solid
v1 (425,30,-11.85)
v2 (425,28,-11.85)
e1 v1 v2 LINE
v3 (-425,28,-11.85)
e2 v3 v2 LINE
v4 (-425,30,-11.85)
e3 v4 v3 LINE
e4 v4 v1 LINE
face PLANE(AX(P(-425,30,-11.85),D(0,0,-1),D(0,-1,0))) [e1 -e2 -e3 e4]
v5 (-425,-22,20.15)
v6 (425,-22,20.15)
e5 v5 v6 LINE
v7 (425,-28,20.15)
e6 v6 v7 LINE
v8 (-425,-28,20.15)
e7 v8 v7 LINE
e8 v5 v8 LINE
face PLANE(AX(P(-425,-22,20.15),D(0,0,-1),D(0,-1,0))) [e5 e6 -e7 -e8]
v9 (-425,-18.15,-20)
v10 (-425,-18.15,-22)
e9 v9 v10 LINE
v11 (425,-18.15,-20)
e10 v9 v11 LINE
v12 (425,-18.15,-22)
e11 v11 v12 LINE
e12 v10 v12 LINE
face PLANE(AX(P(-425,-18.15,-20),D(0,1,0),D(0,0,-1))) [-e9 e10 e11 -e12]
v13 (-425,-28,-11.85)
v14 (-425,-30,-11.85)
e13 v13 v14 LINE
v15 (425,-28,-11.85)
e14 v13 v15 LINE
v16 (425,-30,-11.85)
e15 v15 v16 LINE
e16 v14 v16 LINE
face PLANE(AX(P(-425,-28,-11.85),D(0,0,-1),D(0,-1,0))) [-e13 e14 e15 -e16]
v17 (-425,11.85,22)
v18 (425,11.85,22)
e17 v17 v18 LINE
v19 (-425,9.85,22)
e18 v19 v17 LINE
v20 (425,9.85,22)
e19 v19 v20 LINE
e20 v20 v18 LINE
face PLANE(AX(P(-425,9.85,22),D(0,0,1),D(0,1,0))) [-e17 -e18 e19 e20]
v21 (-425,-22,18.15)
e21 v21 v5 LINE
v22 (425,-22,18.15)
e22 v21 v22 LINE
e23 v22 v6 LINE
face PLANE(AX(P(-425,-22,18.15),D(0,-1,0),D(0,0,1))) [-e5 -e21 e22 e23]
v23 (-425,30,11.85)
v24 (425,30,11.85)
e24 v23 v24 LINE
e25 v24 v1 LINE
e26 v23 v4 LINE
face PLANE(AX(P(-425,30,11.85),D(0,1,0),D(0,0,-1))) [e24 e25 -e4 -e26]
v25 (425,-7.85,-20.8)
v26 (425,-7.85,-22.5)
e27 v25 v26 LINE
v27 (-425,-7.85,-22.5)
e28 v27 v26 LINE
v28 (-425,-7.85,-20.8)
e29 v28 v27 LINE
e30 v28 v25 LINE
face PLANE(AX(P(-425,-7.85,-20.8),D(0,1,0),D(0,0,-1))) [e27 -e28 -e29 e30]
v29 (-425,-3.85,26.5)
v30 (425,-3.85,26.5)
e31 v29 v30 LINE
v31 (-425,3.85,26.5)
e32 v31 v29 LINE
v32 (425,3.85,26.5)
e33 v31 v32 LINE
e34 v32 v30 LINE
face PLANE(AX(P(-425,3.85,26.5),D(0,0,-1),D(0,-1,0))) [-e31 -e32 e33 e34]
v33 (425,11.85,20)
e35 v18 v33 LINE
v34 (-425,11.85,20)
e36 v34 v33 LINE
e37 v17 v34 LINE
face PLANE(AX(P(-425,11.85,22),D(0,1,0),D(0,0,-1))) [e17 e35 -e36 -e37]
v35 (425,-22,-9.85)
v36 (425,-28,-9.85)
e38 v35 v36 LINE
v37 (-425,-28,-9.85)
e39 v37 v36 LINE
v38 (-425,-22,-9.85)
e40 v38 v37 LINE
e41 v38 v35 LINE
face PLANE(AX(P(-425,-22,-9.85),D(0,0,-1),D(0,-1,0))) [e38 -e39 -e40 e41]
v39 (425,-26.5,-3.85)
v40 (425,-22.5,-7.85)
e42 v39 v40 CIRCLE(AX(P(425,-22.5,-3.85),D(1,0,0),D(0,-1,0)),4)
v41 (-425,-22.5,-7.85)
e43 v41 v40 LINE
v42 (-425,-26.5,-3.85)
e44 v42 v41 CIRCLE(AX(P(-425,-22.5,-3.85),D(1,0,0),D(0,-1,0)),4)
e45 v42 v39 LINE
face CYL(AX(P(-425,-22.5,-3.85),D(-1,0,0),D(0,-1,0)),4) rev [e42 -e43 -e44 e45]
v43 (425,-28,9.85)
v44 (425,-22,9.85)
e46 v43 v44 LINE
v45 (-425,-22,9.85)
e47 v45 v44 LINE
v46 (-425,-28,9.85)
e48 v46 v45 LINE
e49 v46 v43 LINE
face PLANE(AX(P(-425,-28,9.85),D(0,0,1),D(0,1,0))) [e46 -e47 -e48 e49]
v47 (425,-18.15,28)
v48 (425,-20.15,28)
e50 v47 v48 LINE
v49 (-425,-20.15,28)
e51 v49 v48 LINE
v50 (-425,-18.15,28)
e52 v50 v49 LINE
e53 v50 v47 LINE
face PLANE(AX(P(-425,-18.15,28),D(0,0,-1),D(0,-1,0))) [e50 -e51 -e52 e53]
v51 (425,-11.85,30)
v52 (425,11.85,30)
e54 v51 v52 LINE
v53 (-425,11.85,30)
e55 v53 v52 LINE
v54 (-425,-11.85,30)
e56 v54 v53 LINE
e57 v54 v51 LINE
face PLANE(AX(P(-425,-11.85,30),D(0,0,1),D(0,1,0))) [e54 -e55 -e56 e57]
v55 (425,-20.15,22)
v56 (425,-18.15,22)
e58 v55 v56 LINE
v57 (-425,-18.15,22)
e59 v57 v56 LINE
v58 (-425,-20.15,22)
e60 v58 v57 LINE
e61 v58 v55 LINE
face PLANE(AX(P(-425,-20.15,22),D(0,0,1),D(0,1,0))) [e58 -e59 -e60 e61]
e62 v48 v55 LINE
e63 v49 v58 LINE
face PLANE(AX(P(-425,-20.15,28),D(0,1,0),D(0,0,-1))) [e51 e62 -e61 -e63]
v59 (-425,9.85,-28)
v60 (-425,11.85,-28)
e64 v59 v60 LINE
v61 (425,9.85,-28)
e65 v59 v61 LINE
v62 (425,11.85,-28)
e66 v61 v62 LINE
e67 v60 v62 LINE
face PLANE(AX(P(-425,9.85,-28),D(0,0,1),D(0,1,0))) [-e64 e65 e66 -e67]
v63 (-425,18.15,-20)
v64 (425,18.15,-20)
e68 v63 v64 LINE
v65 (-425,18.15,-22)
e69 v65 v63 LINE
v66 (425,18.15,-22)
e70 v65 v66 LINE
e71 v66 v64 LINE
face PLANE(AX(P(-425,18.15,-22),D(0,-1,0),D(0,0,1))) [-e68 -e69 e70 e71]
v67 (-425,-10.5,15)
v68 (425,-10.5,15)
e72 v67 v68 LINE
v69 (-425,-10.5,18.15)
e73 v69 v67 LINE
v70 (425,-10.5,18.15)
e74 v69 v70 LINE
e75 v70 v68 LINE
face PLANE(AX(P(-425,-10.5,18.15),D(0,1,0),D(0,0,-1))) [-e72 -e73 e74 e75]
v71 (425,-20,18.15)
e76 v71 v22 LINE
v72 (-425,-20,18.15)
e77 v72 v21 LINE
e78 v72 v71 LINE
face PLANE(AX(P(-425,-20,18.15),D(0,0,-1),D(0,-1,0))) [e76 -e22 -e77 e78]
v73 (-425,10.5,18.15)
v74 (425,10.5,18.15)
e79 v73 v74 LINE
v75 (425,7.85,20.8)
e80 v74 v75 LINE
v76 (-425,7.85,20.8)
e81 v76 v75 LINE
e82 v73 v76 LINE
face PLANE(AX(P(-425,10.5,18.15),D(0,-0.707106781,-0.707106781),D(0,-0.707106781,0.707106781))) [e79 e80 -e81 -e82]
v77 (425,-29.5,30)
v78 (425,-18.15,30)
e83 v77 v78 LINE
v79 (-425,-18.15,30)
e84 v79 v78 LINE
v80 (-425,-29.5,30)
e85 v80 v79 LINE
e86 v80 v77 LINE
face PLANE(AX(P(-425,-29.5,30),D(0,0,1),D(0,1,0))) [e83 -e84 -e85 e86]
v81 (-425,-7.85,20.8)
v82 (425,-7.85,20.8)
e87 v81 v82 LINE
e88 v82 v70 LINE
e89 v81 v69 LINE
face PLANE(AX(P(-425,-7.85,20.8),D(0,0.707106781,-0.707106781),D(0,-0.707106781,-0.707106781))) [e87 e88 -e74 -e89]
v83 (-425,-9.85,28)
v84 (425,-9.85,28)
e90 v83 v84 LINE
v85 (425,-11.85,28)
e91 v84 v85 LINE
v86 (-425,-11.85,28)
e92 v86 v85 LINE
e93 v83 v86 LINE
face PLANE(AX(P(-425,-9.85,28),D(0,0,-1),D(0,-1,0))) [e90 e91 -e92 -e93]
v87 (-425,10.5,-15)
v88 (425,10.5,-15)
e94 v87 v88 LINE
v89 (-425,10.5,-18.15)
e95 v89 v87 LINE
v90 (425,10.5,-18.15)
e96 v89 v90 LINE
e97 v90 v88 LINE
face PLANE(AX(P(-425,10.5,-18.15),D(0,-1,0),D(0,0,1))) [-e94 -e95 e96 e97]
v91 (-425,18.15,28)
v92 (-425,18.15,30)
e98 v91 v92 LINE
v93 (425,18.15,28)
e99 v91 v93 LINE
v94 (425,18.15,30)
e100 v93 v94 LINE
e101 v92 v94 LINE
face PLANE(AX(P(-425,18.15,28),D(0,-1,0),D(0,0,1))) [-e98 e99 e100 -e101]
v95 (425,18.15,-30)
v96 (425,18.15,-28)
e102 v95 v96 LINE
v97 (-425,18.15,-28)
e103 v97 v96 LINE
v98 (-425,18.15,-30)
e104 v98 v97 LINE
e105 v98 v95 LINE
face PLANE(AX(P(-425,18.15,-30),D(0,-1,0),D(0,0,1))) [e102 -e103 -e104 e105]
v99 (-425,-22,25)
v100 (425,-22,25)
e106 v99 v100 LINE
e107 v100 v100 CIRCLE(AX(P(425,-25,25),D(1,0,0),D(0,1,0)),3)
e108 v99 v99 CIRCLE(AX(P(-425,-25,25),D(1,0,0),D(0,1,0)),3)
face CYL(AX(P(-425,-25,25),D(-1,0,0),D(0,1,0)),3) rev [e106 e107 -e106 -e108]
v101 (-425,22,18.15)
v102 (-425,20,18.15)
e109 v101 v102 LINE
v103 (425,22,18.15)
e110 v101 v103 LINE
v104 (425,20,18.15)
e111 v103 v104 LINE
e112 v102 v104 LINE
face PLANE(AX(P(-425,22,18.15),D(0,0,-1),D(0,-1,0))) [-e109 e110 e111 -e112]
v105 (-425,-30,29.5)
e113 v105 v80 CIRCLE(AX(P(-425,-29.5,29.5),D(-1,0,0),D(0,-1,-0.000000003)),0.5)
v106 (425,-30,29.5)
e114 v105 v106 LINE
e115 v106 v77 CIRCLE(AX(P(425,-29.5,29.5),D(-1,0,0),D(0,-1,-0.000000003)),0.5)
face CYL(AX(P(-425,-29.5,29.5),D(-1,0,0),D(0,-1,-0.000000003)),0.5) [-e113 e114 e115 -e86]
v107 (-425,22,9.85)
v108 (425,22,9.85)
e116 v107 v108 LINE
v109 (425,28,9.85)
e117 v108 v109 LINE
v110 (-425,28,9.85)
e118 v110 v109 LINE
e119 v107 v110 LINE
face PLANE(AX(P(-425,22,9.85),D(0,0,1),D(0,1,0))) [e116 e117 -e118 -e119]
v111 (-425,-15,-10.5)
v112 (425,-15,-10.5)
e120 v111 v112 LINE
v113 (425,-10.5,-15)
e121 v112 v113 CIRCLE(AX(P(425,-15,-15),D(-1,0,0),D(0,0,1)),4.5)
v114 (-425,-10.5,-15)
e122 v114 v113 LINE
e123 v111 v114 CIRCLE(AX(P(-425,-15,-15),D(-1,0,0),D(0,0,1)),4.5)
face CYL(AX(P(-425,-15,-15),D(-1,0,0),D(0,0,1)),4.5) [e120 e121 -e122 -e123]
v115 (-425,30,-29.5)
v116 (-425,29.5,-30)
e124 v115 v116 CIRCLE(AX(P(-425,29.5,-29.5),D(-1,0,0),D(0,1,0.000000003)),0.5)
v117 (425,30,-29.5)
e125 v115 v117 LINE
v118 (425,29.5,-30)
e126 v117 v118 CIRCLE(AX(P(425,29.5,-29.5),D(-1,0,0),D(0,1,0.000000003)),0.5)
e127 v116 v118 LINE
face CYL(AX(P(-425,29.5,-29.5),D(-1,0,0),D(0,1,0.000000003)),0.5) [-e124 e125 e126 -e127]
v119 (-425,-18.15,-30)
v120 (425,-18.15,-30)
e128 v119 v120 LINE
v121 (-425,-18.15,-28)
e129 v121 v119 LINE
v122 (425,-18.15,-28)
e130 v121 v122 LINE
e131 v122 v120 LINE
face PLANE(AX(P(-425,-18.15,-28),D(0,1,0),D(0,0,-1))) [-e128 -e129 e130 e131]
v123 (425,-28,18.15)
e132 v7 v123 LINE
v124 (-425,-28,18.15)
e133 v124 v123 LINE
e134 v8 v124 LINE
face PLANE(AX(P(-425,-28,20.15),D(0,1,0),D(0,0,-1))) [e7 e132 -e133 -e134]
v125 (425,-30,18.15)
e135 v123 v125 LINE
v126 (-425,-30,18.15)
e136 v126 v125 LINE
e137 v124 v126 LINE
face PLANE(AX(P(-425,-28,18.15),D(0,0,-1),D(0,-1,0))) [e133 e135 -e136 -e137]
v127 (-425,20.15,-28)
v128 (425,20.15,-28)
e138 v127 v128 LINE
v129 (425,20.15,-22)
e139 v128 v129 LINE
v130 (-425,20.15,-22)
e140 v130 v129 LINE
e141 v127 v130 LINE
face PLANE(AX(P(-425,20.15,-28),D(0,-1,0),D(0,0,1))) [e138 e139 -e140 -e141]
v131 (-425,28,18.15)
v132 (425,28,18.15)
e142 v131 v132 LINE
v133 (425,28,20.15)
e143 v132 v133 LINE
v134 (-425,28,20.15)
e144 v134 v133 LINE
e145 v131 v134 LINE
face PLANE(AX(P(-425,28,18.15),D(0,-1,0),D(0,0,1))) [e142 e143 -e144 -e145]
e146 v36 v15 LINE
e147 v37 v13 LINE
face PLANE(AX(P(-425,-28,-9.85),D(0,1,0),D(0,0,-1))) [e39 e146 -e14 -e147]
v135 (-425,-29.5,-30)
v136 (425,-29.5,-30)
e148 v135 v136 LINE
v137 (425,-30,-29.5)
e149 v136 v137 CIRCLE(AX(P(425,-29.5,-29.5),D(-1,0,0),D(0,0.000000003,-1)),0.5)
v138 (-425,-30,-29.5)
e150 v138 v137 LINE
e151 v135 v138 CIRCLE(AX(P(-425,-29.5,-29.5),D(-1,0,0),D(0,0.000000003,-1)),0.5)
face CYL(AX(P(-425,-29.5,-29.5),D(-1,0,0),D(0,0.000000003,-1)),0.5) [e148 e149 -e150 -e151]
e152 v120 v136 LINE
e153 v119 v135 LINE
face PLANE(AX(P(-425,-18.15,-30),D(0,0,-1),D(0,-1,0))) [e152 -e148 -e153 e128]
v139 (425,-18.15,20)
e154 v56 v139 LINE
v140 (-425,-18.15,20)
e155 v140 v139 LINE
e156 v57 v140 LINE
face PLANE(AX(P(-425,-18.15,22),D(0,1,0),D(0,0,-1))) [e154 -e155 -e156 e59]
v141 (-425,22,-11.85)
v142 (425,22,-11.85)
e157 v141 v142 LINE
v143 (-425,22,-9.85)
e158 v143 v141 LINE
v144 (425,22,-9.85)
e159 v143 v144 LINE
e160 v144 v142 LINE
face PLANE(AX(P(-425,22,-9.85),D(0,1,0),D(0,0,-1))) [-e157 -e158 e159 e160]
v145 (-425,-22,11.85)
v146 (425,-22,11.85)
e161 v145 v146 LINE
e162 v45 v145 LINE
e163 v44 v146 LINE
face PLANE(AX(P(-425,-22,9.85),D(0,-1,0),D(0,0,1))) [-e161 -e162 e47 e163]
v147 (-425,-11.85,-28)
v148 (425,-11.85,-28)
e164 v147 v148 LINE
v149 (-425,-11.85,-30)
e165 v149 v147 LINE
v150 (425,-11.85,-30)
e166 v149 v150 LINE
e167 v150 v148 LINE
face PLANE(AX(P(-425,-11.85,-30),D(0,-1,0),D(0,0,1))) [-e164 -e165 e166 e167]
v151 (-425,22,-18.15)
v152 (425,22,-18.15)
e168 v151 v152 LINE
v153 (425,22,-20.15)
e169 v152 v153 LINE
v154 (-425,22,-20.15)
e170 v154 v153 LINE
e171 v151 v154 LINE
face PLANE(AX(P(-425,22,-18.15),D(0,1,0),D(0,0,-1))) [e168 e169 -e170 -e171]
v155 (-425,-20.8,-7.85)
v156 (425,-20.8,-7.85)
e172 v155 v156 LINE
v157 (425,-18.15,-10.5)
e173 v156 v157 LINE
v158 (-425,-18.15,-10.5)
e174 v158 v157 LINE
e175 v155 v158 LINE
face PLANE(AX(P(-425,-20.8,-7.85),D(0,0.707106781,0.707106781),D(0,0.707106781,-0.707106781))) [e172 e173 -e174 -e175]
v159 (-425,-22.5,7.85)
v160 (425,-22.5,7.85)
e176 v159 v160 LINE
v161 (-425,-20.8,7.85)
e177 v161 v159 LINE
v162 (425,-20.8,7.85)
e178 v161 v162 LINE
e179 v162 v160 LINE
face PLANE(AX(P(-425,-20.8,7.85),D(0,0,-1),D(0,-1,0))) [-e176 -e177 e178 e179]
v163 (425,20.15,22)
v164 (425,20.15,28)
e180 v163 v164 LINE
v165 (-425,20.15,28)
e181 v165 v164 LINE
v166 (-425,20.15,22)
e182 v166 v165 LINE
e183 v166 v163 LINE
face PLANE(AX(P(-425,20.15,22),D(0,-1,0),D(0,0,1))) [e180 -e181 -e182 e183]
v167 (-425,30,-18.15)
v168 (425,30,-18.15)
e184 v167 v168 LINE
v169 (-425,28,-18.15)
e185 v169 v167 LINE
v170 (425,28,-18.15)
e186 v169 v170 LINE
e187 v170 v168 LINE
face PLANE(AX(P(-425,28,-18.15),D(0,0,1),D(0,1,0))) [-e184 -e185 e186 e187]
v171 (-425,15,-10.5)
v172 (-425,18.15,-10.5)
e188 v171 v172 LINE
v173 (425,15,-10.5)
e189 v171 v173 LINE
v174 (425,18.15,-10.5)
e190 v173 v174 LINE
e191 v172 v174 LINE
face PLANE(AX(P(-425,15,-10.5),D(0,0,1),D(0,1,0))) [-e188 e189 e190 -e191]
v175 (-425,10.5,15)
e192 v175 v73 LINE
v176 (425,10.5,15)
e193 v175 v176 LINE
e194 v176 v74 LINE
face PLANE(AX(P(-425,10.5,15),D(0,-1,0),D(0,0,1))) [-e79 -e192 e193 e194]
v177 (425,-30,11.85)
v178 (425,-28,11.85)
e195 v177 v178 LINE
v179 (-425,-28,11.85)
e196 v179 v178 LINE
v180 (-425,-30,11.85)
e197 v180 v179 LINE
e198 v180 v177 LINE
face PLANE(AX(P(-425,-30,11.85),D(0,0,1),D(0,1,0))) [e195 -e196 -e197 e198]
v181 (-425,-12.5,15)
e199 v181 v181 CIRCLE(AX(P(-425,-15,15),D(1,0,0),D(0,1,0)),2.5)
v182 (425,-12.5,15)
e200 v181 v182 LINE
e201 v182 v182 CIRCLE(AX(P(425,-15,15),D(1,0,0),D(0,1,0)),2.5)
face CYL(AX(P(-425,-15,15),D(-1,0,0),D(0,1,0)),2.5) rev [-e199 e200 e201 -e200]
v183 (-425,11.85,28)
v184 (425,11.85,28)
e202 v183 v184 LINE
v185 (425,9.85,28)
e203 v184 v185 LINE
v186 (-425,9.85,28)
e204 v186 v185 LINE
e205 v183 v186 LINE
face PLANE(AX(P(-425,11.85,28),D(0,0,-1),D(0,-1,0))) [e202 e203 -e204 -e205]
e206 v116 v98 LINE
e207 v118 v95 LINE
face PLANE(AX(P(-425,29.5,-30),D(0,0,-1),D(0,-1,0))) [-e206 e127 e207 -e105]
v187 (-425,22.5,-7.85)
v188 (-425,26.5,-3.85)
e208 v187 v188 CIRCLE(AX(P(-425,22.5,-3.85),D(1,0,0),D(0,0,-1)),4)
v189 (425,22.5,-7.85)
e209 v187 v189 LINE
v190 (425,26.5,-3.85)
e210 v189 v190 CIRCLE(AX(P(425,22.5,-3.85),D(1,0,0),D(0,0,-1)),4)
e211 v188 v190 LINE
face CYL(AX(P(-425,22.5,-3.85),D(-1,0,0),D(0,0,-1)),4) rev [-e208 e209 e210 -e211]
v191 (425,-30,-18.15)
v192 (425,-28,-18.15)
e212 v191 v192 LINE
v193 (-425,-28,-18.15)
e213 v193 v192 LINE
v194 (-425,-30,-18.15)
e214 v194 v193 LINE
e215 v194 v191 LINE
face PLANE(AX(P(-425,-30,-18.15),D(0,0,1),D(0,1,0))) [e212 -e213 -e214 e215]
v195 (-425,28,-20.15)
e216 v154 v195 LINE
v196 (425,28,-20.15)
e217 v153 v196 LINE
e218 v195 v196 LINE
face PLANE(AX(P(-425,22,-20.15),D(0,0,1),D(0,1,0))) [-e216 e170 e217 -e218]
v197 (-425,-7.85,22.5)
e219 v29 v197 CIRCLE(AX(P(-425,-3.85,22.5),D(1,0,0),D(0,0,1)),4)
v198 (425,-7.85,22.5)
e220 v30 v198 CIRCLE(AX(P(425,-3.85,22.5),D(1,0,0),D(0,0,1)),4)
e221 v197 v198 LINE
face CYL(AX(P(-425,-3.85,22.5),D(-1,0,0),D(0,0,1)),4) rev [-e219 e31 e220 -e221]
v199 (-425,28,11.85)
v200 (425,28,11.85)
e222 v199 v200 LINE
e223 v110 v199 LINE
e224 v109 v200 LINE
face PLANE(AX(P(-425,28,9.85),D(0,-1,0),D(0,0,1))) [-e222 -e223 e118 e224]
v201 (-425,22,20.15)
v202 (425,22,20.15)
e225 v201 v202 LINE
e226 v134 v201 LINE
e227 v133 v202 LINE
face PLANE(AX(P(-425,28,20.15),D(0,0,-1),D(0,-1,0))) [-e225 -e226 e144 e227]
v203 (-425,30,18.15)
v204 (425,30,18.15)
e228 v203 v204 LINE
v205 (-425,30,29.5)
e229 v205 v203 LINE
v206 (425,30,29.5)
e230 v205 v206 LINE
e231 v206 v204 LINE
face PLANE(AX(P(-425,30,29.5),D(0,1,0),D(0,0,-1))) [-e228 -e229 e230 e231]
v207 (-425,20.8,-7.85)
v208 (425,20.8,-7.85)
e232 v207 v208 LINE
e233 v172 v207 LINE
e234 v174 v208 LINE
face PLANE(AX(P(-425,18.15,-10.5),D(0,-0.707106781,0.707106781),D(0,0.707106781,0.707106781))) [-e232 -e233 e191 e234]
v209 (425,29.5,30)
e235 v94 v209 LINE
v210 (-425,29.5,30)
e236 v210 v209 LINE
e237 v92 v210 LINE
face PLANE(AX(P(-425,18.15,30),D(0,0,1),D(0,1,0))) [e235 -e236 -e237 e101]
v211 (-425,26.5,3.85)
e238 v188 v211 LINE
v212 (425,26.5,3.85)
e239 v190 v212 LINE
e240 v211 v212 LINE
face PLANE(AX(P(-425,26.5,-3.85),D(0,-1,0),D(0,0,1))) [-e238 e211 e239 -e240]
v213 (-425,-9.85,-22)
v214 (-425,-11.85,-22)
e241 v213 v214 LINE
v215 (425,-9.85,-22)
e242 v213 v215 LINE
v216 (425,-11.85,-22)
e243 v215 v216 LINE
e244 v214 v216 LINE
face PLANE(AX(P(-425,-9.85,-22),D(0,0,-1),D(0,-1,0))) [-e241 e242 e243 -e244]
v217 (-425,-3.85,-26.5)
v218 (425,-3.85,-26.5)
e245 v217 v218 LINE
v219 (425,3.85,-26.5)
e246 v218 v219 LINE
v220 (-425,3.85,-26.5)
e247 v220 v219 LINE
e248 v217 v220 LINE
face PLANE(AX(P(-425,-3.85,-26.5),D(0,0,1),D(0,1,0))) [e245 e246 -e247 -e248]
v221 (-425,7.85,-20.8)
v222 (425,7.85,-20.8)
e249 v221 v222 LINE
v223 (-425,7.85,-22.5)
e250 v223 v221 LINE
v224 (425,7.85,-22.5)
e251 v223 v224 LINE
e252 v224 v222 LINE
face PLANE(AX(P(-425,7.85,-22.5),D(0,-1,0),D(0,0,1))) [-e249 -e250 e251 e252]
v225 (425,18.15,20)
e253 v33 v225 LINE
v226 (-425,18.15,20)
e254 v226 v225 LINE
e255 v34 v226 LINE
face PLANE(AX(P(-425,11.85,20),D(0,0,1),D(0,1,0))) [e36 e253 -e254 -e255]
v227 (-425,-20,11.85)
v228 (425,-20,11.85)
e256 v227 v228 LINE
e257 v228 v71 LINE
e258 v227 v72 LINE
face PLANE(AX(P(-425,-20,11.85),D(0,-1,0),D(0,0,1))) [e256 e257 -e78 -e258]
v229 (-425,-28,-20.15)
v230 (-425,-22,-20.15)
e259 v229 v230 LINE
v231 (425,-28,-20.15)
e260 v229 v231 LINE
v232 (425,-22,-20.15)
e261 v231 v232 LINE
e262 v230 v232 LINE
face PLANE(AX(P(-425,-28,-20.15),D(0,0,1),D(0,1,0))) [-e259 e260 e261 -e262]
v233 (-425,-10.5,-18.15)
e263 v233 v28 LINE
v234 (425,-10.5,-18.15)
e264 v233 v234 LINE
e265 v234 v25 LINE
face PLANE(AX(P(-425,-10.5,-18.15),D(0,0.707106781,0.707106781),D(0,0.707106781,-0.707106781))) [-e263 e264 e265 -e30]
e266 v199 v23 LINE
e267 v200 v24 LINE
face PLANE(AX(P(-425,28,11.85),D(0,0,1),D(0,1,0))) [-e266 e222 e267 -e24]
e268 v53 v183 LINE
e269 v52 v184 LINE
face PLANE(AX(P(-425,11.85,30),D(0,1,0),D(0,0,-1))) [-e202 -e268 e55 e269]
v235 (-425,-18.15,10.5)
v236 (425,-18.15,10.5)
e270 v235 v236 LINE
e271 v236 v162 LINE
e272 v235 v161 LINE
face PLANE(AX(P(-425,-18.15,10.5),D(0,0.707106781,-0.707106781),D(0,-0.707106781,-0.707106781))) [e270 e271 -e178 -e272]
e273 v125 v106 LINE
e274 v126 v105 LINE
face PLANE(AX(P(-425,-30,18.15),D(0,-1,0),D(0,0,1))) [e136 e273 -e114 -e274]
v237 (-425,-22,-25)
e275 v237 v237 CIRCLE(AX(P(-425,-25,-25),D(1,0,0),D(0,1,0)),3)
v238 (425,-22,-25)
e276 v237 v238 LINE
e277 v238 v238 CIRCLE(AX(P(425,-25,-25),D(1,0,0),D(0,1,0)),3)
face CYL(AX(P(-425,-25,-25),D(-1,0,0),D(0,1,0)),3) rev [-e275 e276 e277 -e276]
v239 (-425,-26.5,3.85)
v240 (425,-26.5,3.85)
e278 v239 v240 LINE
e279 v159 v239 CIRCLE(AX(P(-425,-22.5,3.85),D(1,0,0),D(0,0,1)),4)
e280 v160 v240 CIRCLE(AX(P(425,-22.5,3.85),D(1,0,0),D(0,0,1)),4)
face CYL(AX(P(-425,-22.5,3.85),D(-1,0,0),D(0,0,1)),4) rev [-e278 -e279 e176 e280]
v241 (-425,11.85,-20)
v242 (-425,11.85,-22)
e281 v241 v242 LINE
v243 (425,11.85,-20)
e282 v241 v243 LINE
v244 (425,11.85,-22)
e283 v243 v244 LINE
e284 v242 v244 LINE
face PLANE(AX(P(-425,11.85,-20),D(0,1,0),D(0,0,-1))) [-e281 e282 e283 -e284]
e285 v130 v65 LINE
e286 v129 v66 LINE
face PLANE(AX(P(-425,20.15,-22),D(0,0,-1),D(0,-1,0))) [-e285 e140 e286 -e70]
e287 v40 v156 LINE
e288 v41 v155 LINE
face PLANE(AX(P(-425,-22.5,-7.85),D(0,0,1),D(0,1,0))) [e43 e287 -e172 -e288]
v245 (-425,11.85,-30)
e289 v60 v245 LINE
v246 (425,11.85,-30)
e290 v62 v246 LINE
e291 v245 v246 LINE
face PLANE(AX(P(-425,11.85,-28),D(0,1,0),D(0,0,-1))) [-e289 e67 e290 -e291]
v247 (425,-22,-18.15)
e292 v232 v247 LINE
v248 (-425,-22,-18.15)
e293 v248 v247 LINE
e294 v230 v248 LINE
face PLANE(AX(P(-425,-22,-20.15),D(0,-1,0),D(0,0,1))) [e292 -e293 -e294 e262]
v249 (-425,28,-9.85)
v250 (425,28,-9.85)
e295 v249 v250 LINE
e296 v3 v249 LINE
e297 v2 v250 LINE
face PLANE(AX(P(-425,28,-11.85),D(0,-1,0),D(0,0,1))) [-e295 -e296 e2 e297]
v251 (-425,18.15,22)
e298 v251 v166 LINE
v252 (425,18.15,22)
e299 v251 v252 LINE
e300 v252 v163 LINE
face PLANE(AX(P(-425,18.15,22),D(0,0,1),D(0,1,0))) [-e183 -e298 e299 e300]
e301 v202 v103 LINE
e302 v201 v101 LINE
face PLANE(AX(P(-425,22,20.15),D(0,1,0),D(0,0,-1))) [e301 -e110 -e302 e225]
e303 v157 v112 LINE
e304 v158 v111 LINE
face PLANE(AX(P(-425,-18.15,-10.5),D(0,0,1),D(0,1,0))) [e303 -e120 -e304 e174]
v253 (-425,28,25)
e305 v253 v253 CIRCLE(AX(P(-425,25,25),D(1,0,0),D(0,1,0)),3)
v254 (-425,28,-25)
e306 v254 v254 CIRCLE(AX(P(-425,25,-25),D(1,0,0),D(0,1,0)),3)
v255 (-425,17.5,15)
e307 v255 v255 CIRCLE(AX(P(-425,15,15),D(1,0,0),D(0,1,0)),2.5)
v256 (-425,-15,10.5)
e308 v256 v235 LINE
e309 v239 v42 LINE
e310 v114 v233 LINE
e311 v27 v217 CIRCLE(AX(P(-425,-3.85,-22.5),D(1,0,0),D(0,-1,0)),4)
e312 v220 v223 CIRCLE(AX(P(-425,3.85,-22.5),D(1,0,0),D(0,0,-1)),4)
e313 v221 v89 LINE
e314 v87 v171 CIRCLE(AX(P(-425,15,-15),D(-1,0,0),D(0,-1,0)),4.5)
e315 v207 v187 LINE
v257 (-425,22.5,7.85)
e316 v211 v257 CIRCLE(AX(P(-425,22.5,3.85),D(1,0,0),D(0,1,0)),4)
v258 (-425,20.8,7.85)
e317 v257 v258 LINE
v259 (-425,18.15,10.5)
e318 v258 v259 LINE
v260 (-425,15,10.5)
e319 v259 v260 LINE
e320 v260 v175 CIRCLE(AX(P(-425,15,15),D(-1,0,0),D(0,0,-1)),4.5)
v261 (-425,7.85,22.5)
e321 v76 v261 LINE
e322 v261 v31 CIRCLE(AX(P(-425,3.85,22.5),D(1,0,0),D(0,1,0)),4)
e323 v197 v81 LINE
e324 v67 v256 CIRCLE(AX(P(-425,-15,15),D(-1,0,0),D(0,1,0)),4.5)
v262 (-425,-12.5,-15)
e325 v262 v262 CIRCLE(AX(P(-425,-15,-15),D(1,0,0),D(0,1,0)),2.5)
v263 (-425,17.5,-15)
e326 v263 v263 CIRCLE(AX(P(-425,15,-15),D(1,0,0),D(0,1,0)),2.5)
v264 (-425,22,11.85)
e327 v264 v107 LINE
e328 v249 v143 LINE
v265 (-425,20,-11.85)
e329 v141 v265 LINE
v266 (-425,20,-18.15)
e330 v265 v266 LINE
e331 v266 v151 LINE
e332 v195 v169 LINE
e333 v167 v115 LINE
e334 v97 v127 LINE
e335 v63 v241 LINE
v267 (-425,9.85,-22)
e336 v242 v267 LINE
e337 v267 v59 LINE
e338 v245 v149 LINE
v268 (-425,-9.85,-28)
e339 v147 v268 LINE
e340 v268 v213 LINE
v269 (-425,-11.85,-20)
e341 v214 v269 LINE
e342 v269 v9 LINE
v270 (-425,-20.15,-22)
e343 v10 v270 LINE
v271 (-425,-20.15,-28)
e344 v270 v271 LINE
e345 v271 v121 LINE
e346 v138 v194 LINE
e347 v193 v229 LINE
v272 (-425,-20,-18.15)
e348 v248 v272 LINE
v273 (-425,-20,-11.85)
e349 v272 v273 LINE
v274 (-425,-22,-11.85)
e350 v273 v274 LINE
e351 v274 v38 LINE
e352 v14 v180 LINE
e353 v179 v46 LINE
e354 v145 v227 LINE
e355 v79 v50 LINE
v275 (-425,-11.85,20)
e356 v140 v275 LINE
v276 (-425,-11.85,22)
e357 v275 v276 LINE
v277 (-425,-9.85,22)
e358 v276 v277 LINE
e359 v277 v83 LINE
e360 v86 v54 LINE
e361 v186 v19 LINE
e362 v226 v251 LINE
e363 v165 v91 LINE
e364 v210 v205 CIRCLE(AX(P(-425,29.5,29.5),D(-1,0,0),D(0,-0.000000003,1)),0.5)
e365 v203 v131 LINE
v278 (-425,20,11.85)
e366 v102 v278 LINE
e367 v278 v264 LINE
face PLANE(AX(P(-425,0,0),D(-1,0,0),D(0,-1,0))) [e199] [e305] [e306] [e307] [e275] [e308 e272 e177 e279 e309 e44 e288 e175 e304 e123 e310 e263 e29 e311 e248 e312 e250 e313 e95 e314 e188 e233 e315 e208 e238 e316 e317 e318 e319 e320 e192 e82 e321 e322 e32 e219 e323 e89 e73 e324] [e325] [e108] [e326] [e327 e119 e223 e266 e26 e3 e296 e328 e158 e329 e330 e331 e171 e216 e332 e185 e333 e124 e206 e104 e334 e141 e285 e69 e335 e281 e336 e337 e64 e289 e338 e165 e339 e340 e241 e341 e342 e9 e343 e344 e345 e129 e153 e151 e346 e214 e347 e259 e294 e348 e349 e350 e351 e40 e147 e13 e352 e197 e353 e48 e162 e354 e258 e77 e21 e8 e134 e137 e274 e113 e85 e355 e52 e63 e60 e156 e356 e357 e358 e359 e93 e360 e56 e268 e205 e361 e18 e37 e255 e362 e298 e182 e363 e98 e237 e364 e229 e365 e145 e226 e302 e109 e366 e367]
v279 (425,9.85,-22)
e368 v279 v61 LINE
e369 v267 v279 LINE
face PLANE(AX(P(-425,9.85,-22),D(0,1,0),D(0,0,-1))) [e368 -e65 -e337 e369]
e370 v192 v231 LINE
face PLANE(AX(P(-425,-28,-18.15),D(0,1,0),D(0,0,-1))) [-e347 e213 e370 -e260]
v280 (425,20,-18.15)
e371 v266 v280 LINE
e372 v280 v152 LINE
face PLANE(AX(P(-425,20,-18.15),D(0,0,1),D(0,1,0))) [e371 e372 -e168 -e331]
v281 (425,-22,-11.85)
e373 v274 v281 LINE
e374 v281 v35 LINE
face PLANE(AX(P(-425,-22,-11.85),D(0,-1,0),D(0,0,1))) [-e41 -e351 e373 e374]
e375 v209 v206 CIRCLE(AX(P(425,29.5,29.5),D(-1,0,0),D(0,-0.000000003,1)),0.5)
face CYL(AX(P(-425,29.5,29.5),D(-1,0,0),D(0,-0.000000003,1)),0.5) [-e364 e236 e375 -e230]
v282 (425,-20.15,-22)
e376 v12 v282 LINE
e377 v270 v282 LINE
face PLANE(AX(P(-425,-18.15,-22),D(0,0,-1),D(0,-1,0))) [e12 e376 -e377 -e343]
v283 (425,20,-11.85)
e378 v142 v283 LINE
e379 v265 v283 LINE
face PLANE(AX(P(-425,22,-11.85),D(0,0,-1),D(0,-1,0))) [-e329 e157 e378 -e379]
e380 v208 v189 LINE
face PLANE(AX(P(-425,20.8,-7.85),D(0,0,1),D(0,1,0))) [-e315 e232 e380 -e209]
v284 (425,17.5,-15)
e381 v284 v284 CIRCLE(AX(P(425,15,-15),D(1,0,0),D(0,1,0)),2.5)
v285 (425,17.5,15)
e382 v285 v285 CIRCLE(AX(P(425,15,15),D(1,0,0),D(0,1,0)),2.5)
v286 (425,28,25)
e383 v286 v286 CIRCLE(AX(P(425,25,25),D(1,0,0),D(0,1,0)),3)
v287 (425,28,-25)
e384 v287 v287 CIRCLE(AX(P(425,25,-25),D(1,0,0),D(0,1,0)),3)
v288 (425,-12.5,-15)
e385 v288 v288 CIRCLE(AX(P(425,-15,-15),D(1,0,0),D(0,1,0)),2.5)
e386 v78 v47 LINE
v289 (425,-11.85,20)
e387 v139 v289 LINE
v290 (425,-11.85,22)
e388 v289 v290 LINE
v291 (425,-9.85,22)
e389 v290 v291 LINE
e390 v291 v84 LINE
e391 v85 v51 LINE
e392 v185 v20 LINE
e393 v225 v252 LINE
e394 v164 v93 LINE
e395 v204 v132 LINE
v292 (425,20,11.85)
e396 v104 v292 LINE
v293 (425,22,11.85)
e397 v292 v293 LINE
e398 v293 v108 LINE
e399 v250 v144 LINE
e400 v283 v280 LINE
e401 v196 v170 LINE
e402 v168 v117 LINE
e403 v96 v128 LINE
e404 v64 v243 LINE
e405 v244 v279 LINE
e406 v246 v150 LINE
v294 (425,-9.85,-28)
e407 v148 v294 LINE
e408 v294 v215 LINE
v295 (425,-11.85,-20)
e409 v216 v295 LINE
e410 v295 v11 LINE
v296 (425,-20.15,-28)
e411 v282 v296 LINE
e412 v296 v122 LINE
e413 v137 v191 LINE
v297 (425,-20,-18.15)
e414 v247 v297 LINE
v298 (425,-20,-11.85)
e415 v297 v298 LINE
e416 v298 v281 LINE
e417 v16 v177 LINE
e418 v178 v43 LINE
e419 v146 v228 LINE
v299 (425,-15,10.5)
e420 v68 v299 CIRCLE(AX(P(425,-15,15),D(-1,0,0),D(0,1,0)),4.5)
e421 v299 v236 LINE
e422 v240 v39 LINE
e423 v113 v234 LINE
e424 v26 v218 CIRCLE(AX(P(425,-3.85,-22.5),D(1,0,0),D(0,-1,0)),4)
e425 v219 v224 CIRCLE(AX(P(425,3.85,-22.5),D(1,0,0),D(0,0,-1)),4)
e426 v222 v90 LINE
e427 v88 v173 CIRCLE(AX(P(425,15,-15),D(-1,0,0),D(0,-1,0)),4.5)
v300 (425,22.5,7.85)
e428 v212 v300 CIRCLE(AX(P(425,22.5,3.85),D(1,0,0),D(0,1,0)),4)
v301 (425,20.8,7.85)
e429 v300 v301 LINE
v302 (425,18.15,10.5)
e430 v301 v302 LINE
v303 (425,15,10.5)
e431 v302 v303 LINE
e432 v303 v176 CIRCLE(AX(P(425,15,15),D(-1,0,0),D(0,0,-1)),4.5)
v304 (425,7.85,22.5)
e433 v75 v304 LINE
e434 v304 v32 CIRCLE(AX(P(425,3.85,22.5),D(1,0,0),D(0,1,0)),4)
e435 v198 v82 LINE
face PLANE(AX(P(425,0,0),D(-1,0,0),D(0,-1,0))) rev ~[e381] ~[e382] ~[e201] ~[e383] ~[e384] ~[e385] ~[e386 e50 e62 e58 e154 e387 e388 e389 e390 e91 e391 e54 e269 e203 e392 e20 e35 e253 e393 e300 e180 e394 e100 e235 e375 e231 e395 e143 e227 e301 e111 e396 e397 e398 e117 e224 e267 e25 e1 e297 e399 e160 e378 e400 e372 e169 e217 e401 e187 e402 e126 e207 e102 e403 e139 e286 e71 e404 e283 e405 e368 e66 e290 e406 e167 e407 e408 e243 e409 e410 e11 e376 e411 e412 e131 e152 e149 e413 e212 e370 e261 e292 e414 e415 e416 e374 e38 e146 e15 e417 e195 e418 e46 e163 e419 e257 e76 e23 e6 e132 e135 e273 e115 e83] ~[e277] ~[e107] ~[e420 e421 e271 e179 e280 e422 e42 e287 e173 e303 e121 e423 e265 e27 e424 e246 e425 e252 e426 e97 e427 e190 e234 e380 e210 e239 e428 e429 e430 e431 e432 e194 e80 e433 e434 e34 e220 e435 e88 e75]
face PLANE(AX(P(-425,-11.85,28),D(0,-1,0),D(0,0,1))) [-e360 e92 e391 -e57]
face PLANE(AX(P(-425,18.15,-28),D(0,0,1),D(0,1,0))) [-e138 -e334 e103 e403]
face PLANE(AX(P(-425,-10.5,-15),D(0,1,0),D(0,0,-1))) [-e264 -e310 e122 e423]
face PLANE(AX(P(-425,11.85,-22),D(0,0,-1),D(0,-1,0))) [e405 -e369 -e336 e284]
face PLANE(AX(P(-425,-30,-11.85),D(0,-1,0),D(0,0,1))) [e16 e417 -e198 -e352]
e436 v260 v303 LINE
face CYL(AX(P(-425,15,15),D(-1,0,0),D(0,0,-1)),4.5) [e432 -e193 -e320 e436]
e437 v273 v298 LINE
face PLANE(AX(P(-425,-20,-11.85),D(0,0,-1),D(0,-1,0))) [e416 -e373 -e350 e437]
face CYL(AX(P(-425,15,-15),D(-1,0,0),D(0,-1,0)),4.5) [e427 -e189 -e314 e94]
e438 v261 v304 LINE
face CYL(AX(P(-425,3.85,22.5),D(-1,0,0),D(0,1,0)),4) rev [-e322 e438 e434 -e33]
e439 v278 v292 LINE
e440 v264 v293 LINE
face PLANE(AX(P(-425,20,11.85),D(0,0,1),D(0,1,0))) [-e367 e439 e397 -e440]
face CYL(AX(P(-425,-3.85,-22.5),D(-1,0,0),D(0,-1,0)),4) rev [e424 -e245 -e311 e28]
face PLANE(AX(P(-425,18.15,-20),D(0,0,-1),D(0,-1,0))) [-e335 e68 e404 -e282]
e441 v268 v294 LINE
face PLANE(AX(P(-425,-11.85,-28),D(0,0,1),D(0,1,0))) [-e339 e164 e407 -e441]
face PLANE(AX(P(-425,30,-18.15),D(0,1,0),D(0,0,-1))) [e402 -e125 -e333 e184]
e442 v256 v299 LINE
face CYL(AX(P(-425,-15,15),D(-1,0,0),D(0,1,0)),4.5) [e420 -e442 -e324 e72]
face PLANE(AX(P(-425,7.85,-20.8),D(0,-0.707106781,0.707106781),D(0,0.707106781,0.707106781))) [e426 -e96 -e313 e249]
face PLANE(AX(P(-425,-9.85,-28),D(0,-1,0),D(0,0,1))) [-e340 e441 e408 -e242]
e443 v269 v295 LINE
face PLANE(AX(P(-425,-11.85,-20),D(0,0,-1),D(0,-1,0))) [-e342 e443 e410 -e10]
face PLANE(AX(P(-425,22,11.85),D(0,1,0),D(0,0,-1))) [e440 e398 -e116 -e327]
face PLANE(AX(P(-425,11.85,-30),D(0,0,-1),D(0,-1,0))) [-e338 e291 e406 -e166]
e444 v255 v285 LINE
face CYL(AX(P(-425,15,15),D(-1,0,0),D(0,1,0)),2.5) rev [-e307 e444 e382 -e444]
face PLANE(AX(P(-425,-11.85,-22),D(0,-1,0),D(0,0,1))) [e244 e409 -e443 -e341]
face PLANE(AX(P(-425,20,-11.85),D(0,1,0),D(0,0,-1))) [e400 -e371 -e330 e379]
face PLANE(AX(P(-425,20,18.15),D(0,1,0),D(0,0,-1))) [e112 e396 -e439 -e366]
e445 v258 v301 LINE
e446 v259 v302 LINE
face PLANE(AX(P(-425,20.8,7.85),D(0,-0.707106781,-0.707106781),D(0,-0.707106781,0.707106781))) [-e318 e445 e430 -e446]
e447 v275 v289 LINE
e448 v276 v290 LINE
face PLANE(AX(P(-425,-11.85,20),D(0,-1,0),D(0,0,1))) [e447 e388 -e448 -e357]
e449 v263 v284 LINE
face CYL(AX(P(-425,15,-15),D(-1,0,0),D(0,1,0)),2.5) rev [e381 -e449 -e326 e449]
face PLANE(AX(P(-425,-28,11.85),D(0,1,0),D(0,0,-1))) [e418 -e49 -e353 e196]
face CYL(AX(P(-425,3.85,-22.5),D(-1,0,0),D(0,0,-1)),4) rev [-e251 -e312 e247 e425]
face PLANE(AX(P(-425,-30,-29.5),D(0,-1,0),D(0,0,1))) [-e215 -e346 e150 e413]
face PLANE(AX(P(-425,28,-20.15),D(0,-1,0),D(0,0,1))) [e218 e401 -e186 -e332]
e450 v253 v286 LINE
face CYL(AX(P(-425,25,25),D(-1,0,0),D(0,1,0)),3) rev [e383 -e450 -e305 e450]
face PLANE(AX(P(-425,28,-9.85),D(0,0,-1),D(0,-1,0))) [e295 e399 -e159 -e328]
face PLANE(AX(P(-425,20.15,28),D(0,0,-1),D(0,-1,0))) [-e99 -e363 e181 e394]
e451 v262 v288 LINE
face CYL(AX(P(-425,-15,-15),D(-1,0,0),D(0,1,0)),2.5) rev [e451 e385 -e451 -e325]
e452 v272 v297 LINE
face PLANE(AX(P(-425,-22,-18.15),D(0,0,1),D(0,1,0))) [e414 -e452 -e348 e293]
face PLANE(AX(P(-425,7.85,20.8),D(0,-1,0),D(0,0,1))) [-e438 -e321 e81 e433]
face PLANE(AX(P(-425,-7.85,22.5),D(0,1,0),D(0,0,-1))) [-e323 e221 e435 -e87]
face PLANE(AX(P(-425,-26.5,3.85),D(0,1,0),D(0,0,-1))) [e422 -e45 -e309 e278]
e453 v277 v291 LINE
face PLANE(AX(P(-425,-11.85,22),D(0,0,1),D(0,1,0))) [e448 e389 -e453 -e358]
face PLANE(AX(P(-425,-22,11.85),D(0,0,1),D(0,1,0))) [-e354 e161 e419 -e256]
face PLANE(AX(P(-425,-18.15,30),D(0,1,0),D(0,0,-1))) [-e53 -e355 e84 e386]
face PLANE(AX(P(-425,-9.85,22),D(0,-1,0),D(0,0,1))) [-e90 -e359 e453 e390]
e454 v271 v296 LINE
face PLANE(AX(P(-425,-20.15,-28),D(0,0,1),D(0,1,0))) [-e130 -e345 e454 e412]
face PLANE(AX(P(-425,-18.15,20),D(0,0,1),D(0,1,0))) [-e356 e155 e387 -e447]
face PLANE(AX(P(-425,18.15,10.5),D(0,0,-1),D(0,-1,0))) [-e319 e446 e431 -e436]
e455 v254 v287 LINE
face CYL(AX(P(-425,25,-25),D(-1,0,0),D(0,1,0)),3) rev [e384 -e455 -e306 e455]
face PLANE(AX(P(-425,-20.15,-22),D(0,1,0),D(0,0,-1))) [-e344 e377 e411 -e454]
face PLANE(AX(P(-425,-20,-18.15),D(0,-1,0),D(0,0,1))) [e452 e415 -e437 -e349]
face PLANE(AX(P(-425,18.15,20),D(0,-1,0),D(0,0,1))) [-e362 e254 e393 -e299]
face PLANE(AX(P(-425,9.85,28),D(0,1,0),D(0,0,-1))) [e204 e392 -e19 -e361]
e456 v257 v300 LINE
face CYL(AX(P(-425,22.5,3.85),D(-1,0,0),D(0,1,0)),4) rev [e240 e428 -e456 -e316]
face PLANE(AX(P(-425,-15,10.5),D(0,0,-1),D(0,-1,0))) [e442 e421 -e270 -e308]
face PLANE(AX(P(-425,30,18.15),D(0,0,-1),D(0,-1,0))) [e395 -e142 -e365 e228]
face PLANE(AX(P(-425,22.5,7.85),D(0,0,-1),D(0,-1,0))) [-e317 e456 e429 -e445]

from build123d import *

# Parameters (mm, degrees)
SKETCH_14_R                 = 3
SKETCH_14_R_2               = 2.5
GB_T5237_2004_6060G_1_DEPTH = 850


with BuildPart() as part:
    # 草图14 → 铝型材（gb t5237-2004） 6060G(1) (new body)
    with BuildSketch(Plane.YZ.offset(-425)):
        with BuildLine():
            Line((28, -18.15), (30, -18.15))
            Line((30, -18.15), (30, -29.5))
            ThreePointArc((30, -29.5), (29.853553391, -29.853553391), (29.5, -30))
            Line((29.5, -30), (18.15, -30))
            Line((18.15, -30), (18.15, -28))
            Line((18.15, -28), (20.15, -28))
            Line((20.15, -28), (20.15, -22))
            Line((20.15, -22), (18.15, -22))
            Line((18.15, -22), (18.15, -20))
            Line((18.15, -20), (11.85, -20))
            Line((11.85, -20), (11.85, -22))
            Line((11.85, -22), (9.85, -22))
            Line((9.85, -22), (9.85, -28))
            Line((9.85, -28), (11.85, -28))
            Line((11.85, -28), (11.85, -30))
            Line((11.85, -30), (-11.85, -30))
            Line((-11.85, -30), (-11.85, -28))
            Line((-11.85, -28), (-9.85, -28))
            Line((-9.85, -28), (-9.85, -22))
            Line((-9.85, -22), (-11.85, -22))
            Line((-11.85, -22), (-11.85, -20))
            Line((-11.85, -20), (-18.15, -20))
            Line((-18.15, -20), (-18.15, -22))
            Line((-18.15, -22), (-20.15, -22))
            Line((-20.15, -22), (-20.15, -28))
            Line((-20.15, -28), (-18.15, -28))
            Line((-18.15, -28), (-18.15, -30))
            Line((-18.15, -30), (-29.5, -30))
            ThreePointArc((-29.5, -30), (-29.853553391, -29.853553391), (-30, -29.5))
            Line((-30, -29.5), (-30, -18.15))
            Line((-30, -18.15), (-28, -18.15))
            Line((-28, -18.15), (-28, -20.15))
            Line((-28, -20.15), (-22, -20.15))
            Line((-22, -20.15), (-22, -18.15))
            Line((-22, -18.15), (-20, -18.15))
            Line((-20, -18.15), (-20, -11.85))
            Line((-20, -11.85), (-22, -11.85))
            Line((-22, -11.85), (-22, -9.85))
            Line((-22, -9.85), (-28, -9.85))
            Line((-28, -9.85), (-28, -11.85))
            Line((-28, -11.85), (-30, -11.85))
            Line((-30, -11.85), (-30, 11.85))
            Line((-30, 11.85), (-28, 11.85))
            Line((-28, 11.85), (-28, 9.85))
            Line((-28, 9.85), (-22, 9.85))
            Line((-22, 9.85), (-22, 11.85))
            Line((-22, 11.85), (-20, 11.85))
            Line((-20, 11.85), (-20, 18.15))
            Line((-20, 18.15), (-22, 18.15))
            Line((-22, 18.15), (-22, 20.15))
            Line((-22, 20.15), (-28, 20.15))
            Line((-28, 20.15), (-28, 18.15))
            Line((-28, 18.15), (-30, 18.15))
            Line((-30, 18.15), (-30, 29.5))
            ThreePointArc((-30, 29.5), (-29.853553391, 29.853553391), (-29.5, 30))
            Line((-29.5, 30), (-18.15, 30))
            Line((-18.15, 30), (-18.15, 28))
            Line((-18.15, 28), (-20.15, 28))
            Line((-20.15, 28), (-20.15, 22))
            Line((-20.15, 22), (-18.15, 22))
            Line((-18.15, 22), (-18.15, 20))
            Line((-18.15, 20), (-11.85, 20))
            Line((-11.85, 20), (-11.85, 22))
            Line((-11.85, 22), (-9.85, 22))
            Line((-9.85, 22), (-9.85, 28))
            Line((-9.85, 28), (-11.85, 28))
            Line((-11.85, 28), (-11.85, 30))
            Line((-11.85, 30), (11.85, 30))
            Line((11.85, 30), (11.85, 28))
            Line((11.85, 28), (9.85, 28))
            Line((9.85, 28), (9.85, 22))
            Line((9.85, 22), (11.85, 22))
            Line((11.85, 22), (11.85, 20))
            Line((11.85, 20), (18.15, 20))
            Line((18.15, 20), (18.15, 22))
            Line((18.15, 22), (20.15, 22))
            Line((20.15, 22), (20.15, 28))
            Line((20.15, 28), (18.15, 28))
            Line((18.15, 28), (18.15, 30))
            Line((18.15, 30), (29.5, 30))
            ThreePointArc((29.5, 30), (29.853553391, 29.853553391), (30, 29.5))
            Line((30, 29.5), (30, 18.15))
            Line((30, 18.15), (28, 18.15))
            Line((28, 18.15), (28, 20.15))
            Line((28, 20.15), (22, 20.15))
            Line((22, 20.15), (22, 18.15))
            Line((22, 18.15), (20, 18.15))
            Line((20, 18.15), (20, 11.85))
            Line((20, 11.85), (22, 11.85))
            Line((22, 11.85), (22, 9.85))
            Line((22, 9.85), (28, 9.85))
            Line((28, 9.85), (28, 11.85))
            Line((28, 11.85), (30, 11.85))
            Line((30, 11.85), (30, -11.85))
            Line((30, -11.85), (28, -11.85))
            Line((28, -11.85), (28, -9.85))
            Line((28, -9.85), (22, -9.85))
            Line((22, -9.85), (22, -11.85))
            Line((22, -11.85), (20, -11.85))
            Line((20, -11.85), (20, -18.15))
            Line((20, -18.15), (22, -18.15))
            Line((22, -18.15), (22, -20.15))
            Line((22, -20.15), (28, -20.15))
            Line((28, -20.15), (28, -18.15))
        make_face()
        with Locations((25, 25)):
            Circle(SKETCH_14_R, mode=Mode.SUBTRACT)
        with Locations((-15, 15)):
            Circle(SKETCH_14_R_2, mode=Mode.SUBTRACT)
        with Locations((-25, -25)):
            Circle(SKETCH_14_R, mode=Mode.SUBTRACT)
        with Locations((25, -25)):
            Circle(SKETCH_14_R, mode=Mode.SUBTRACT)
        with Locations((15, -15)):
            Circle(SKETCH_14_R_2, mode=Mode.SUBTRACT)
        with Locations((-15, -15)):
            Circle(SKETCH_14_R_2, mode=Mode.SUBTRACT)
        with Locations((-25, 25)):
            Circle(SKETCH_14_R, mode=Mode.SUBTRACT)
        with Locations((15, 15)):
            Circle(SKETCH_14_R_2, mode=Mode.SUBTRACT)
        with BuildLine():
            Line((18.15, -10.5), (20.8, -7.85))
            Line((20.8, -7.85), (22.5, -7.85))
            ThreePointArc((22.5, -7.85), (25.328427125, -6.678427125), (26.5, -3.85))
            Line((26.5, -3.85), (26.5, 3.85))
            ThreePointArc((26.5, 3.85), (25.328427125, 6.678427125), (22.5, 7.85))
            Line((22.5, 7.85), (20.8, 7.85))
            Line((20.8, 7.85), (18.15, 10.5))
            Line((18.15, 10.5), (15, 10.5))
            ThreePointArc((15, 10.5), (11.818019485, 11.818019485), (10.5, 15))
            Line((10.5, 15), (10.5, 18.15))
            Line((10.5, 18.15), (7.85, 20.8))
            Line((7.85, 20.8), (7.85, 22.5))
            ThreePointArc((7.85, 22.5), (6.678427125, 25.328427125), (3.85, 26.5))
            Line((3.85, 26.5), (-3.85, 26.5))
            ThreePointArc((-3.85, 26.5), (-6.678427125, 25.328427125), (-7.85, 22.5))
            Line((-7.85, 22.5), (-7.85, 20.8))
            Line((-7.85, 20.8), (-10.5, 18.15))
            Line((-10.5, 18.15), (-10.5, 15))
            ThreePointArc((-10.5, 15), (-11.818019485, 11.818019485), (-15, 10.5))
            Line((-15, 10.5), (-18.15, 10.5))
            Line((-18.15, 10.5), (-20.8, 7.85))
            Line((-20.8, 7.85), (-22.5, 7.85))
            ThreePointArc((-22.5, 7.85), (-25.328427125, 6.678427125), (-26.5, 3.85))
            Line((-26.5, 3.85), (-26.5, -3.85))
            ThreePointArc((-26.5, -3.85), (-25.328427125, -6.678427125), (-22.5, -7.85))
            Line((-22.5, -7.85), (-20.8, -7.85))
            Line((-20.8, -7.85), (-18.15, -10.5))
            Line((-18.15, -10.5), (-15, -10.5))
            ThreePointArc((-15, -10.5), (-11.818019485, -11.818019485), (-10.5, -15))
            Line((-10.5, -15), (-10.5, -18.15))
            Line((-10.5, -18.15), (-7.85, -20.8))
            Line((-7.85, -20.8), (-7.85, -22.5))
            ThreePointArc((-7.85, -22.5), (-6.678427125, -25.328427125), (-3.85, -26.5))
            Line((-3.85, -26.5), (3.85, -26.5))
            ThreePointArc((3.85, -26.5), (6.678427125, -25.328427125), (7.85, -22.5))
            Line((7.85, -22.5), (7.85, -20.8))
            Line((7.85, -20.8), (10.5, -18.15))
            Line((10.5, -18.15), (10.5, -15))
            ThreePointArc((10.5, -15), (11.818019485, -11.818019485), (15, -10.5))
            Line((15, -10.5), (18.15, -10.5))
        make_face(mode=Mode.SUBTRACT)
    extrude(amount=GB_T5237_2004_6060G_1_DEPTH)


solid = part.part
